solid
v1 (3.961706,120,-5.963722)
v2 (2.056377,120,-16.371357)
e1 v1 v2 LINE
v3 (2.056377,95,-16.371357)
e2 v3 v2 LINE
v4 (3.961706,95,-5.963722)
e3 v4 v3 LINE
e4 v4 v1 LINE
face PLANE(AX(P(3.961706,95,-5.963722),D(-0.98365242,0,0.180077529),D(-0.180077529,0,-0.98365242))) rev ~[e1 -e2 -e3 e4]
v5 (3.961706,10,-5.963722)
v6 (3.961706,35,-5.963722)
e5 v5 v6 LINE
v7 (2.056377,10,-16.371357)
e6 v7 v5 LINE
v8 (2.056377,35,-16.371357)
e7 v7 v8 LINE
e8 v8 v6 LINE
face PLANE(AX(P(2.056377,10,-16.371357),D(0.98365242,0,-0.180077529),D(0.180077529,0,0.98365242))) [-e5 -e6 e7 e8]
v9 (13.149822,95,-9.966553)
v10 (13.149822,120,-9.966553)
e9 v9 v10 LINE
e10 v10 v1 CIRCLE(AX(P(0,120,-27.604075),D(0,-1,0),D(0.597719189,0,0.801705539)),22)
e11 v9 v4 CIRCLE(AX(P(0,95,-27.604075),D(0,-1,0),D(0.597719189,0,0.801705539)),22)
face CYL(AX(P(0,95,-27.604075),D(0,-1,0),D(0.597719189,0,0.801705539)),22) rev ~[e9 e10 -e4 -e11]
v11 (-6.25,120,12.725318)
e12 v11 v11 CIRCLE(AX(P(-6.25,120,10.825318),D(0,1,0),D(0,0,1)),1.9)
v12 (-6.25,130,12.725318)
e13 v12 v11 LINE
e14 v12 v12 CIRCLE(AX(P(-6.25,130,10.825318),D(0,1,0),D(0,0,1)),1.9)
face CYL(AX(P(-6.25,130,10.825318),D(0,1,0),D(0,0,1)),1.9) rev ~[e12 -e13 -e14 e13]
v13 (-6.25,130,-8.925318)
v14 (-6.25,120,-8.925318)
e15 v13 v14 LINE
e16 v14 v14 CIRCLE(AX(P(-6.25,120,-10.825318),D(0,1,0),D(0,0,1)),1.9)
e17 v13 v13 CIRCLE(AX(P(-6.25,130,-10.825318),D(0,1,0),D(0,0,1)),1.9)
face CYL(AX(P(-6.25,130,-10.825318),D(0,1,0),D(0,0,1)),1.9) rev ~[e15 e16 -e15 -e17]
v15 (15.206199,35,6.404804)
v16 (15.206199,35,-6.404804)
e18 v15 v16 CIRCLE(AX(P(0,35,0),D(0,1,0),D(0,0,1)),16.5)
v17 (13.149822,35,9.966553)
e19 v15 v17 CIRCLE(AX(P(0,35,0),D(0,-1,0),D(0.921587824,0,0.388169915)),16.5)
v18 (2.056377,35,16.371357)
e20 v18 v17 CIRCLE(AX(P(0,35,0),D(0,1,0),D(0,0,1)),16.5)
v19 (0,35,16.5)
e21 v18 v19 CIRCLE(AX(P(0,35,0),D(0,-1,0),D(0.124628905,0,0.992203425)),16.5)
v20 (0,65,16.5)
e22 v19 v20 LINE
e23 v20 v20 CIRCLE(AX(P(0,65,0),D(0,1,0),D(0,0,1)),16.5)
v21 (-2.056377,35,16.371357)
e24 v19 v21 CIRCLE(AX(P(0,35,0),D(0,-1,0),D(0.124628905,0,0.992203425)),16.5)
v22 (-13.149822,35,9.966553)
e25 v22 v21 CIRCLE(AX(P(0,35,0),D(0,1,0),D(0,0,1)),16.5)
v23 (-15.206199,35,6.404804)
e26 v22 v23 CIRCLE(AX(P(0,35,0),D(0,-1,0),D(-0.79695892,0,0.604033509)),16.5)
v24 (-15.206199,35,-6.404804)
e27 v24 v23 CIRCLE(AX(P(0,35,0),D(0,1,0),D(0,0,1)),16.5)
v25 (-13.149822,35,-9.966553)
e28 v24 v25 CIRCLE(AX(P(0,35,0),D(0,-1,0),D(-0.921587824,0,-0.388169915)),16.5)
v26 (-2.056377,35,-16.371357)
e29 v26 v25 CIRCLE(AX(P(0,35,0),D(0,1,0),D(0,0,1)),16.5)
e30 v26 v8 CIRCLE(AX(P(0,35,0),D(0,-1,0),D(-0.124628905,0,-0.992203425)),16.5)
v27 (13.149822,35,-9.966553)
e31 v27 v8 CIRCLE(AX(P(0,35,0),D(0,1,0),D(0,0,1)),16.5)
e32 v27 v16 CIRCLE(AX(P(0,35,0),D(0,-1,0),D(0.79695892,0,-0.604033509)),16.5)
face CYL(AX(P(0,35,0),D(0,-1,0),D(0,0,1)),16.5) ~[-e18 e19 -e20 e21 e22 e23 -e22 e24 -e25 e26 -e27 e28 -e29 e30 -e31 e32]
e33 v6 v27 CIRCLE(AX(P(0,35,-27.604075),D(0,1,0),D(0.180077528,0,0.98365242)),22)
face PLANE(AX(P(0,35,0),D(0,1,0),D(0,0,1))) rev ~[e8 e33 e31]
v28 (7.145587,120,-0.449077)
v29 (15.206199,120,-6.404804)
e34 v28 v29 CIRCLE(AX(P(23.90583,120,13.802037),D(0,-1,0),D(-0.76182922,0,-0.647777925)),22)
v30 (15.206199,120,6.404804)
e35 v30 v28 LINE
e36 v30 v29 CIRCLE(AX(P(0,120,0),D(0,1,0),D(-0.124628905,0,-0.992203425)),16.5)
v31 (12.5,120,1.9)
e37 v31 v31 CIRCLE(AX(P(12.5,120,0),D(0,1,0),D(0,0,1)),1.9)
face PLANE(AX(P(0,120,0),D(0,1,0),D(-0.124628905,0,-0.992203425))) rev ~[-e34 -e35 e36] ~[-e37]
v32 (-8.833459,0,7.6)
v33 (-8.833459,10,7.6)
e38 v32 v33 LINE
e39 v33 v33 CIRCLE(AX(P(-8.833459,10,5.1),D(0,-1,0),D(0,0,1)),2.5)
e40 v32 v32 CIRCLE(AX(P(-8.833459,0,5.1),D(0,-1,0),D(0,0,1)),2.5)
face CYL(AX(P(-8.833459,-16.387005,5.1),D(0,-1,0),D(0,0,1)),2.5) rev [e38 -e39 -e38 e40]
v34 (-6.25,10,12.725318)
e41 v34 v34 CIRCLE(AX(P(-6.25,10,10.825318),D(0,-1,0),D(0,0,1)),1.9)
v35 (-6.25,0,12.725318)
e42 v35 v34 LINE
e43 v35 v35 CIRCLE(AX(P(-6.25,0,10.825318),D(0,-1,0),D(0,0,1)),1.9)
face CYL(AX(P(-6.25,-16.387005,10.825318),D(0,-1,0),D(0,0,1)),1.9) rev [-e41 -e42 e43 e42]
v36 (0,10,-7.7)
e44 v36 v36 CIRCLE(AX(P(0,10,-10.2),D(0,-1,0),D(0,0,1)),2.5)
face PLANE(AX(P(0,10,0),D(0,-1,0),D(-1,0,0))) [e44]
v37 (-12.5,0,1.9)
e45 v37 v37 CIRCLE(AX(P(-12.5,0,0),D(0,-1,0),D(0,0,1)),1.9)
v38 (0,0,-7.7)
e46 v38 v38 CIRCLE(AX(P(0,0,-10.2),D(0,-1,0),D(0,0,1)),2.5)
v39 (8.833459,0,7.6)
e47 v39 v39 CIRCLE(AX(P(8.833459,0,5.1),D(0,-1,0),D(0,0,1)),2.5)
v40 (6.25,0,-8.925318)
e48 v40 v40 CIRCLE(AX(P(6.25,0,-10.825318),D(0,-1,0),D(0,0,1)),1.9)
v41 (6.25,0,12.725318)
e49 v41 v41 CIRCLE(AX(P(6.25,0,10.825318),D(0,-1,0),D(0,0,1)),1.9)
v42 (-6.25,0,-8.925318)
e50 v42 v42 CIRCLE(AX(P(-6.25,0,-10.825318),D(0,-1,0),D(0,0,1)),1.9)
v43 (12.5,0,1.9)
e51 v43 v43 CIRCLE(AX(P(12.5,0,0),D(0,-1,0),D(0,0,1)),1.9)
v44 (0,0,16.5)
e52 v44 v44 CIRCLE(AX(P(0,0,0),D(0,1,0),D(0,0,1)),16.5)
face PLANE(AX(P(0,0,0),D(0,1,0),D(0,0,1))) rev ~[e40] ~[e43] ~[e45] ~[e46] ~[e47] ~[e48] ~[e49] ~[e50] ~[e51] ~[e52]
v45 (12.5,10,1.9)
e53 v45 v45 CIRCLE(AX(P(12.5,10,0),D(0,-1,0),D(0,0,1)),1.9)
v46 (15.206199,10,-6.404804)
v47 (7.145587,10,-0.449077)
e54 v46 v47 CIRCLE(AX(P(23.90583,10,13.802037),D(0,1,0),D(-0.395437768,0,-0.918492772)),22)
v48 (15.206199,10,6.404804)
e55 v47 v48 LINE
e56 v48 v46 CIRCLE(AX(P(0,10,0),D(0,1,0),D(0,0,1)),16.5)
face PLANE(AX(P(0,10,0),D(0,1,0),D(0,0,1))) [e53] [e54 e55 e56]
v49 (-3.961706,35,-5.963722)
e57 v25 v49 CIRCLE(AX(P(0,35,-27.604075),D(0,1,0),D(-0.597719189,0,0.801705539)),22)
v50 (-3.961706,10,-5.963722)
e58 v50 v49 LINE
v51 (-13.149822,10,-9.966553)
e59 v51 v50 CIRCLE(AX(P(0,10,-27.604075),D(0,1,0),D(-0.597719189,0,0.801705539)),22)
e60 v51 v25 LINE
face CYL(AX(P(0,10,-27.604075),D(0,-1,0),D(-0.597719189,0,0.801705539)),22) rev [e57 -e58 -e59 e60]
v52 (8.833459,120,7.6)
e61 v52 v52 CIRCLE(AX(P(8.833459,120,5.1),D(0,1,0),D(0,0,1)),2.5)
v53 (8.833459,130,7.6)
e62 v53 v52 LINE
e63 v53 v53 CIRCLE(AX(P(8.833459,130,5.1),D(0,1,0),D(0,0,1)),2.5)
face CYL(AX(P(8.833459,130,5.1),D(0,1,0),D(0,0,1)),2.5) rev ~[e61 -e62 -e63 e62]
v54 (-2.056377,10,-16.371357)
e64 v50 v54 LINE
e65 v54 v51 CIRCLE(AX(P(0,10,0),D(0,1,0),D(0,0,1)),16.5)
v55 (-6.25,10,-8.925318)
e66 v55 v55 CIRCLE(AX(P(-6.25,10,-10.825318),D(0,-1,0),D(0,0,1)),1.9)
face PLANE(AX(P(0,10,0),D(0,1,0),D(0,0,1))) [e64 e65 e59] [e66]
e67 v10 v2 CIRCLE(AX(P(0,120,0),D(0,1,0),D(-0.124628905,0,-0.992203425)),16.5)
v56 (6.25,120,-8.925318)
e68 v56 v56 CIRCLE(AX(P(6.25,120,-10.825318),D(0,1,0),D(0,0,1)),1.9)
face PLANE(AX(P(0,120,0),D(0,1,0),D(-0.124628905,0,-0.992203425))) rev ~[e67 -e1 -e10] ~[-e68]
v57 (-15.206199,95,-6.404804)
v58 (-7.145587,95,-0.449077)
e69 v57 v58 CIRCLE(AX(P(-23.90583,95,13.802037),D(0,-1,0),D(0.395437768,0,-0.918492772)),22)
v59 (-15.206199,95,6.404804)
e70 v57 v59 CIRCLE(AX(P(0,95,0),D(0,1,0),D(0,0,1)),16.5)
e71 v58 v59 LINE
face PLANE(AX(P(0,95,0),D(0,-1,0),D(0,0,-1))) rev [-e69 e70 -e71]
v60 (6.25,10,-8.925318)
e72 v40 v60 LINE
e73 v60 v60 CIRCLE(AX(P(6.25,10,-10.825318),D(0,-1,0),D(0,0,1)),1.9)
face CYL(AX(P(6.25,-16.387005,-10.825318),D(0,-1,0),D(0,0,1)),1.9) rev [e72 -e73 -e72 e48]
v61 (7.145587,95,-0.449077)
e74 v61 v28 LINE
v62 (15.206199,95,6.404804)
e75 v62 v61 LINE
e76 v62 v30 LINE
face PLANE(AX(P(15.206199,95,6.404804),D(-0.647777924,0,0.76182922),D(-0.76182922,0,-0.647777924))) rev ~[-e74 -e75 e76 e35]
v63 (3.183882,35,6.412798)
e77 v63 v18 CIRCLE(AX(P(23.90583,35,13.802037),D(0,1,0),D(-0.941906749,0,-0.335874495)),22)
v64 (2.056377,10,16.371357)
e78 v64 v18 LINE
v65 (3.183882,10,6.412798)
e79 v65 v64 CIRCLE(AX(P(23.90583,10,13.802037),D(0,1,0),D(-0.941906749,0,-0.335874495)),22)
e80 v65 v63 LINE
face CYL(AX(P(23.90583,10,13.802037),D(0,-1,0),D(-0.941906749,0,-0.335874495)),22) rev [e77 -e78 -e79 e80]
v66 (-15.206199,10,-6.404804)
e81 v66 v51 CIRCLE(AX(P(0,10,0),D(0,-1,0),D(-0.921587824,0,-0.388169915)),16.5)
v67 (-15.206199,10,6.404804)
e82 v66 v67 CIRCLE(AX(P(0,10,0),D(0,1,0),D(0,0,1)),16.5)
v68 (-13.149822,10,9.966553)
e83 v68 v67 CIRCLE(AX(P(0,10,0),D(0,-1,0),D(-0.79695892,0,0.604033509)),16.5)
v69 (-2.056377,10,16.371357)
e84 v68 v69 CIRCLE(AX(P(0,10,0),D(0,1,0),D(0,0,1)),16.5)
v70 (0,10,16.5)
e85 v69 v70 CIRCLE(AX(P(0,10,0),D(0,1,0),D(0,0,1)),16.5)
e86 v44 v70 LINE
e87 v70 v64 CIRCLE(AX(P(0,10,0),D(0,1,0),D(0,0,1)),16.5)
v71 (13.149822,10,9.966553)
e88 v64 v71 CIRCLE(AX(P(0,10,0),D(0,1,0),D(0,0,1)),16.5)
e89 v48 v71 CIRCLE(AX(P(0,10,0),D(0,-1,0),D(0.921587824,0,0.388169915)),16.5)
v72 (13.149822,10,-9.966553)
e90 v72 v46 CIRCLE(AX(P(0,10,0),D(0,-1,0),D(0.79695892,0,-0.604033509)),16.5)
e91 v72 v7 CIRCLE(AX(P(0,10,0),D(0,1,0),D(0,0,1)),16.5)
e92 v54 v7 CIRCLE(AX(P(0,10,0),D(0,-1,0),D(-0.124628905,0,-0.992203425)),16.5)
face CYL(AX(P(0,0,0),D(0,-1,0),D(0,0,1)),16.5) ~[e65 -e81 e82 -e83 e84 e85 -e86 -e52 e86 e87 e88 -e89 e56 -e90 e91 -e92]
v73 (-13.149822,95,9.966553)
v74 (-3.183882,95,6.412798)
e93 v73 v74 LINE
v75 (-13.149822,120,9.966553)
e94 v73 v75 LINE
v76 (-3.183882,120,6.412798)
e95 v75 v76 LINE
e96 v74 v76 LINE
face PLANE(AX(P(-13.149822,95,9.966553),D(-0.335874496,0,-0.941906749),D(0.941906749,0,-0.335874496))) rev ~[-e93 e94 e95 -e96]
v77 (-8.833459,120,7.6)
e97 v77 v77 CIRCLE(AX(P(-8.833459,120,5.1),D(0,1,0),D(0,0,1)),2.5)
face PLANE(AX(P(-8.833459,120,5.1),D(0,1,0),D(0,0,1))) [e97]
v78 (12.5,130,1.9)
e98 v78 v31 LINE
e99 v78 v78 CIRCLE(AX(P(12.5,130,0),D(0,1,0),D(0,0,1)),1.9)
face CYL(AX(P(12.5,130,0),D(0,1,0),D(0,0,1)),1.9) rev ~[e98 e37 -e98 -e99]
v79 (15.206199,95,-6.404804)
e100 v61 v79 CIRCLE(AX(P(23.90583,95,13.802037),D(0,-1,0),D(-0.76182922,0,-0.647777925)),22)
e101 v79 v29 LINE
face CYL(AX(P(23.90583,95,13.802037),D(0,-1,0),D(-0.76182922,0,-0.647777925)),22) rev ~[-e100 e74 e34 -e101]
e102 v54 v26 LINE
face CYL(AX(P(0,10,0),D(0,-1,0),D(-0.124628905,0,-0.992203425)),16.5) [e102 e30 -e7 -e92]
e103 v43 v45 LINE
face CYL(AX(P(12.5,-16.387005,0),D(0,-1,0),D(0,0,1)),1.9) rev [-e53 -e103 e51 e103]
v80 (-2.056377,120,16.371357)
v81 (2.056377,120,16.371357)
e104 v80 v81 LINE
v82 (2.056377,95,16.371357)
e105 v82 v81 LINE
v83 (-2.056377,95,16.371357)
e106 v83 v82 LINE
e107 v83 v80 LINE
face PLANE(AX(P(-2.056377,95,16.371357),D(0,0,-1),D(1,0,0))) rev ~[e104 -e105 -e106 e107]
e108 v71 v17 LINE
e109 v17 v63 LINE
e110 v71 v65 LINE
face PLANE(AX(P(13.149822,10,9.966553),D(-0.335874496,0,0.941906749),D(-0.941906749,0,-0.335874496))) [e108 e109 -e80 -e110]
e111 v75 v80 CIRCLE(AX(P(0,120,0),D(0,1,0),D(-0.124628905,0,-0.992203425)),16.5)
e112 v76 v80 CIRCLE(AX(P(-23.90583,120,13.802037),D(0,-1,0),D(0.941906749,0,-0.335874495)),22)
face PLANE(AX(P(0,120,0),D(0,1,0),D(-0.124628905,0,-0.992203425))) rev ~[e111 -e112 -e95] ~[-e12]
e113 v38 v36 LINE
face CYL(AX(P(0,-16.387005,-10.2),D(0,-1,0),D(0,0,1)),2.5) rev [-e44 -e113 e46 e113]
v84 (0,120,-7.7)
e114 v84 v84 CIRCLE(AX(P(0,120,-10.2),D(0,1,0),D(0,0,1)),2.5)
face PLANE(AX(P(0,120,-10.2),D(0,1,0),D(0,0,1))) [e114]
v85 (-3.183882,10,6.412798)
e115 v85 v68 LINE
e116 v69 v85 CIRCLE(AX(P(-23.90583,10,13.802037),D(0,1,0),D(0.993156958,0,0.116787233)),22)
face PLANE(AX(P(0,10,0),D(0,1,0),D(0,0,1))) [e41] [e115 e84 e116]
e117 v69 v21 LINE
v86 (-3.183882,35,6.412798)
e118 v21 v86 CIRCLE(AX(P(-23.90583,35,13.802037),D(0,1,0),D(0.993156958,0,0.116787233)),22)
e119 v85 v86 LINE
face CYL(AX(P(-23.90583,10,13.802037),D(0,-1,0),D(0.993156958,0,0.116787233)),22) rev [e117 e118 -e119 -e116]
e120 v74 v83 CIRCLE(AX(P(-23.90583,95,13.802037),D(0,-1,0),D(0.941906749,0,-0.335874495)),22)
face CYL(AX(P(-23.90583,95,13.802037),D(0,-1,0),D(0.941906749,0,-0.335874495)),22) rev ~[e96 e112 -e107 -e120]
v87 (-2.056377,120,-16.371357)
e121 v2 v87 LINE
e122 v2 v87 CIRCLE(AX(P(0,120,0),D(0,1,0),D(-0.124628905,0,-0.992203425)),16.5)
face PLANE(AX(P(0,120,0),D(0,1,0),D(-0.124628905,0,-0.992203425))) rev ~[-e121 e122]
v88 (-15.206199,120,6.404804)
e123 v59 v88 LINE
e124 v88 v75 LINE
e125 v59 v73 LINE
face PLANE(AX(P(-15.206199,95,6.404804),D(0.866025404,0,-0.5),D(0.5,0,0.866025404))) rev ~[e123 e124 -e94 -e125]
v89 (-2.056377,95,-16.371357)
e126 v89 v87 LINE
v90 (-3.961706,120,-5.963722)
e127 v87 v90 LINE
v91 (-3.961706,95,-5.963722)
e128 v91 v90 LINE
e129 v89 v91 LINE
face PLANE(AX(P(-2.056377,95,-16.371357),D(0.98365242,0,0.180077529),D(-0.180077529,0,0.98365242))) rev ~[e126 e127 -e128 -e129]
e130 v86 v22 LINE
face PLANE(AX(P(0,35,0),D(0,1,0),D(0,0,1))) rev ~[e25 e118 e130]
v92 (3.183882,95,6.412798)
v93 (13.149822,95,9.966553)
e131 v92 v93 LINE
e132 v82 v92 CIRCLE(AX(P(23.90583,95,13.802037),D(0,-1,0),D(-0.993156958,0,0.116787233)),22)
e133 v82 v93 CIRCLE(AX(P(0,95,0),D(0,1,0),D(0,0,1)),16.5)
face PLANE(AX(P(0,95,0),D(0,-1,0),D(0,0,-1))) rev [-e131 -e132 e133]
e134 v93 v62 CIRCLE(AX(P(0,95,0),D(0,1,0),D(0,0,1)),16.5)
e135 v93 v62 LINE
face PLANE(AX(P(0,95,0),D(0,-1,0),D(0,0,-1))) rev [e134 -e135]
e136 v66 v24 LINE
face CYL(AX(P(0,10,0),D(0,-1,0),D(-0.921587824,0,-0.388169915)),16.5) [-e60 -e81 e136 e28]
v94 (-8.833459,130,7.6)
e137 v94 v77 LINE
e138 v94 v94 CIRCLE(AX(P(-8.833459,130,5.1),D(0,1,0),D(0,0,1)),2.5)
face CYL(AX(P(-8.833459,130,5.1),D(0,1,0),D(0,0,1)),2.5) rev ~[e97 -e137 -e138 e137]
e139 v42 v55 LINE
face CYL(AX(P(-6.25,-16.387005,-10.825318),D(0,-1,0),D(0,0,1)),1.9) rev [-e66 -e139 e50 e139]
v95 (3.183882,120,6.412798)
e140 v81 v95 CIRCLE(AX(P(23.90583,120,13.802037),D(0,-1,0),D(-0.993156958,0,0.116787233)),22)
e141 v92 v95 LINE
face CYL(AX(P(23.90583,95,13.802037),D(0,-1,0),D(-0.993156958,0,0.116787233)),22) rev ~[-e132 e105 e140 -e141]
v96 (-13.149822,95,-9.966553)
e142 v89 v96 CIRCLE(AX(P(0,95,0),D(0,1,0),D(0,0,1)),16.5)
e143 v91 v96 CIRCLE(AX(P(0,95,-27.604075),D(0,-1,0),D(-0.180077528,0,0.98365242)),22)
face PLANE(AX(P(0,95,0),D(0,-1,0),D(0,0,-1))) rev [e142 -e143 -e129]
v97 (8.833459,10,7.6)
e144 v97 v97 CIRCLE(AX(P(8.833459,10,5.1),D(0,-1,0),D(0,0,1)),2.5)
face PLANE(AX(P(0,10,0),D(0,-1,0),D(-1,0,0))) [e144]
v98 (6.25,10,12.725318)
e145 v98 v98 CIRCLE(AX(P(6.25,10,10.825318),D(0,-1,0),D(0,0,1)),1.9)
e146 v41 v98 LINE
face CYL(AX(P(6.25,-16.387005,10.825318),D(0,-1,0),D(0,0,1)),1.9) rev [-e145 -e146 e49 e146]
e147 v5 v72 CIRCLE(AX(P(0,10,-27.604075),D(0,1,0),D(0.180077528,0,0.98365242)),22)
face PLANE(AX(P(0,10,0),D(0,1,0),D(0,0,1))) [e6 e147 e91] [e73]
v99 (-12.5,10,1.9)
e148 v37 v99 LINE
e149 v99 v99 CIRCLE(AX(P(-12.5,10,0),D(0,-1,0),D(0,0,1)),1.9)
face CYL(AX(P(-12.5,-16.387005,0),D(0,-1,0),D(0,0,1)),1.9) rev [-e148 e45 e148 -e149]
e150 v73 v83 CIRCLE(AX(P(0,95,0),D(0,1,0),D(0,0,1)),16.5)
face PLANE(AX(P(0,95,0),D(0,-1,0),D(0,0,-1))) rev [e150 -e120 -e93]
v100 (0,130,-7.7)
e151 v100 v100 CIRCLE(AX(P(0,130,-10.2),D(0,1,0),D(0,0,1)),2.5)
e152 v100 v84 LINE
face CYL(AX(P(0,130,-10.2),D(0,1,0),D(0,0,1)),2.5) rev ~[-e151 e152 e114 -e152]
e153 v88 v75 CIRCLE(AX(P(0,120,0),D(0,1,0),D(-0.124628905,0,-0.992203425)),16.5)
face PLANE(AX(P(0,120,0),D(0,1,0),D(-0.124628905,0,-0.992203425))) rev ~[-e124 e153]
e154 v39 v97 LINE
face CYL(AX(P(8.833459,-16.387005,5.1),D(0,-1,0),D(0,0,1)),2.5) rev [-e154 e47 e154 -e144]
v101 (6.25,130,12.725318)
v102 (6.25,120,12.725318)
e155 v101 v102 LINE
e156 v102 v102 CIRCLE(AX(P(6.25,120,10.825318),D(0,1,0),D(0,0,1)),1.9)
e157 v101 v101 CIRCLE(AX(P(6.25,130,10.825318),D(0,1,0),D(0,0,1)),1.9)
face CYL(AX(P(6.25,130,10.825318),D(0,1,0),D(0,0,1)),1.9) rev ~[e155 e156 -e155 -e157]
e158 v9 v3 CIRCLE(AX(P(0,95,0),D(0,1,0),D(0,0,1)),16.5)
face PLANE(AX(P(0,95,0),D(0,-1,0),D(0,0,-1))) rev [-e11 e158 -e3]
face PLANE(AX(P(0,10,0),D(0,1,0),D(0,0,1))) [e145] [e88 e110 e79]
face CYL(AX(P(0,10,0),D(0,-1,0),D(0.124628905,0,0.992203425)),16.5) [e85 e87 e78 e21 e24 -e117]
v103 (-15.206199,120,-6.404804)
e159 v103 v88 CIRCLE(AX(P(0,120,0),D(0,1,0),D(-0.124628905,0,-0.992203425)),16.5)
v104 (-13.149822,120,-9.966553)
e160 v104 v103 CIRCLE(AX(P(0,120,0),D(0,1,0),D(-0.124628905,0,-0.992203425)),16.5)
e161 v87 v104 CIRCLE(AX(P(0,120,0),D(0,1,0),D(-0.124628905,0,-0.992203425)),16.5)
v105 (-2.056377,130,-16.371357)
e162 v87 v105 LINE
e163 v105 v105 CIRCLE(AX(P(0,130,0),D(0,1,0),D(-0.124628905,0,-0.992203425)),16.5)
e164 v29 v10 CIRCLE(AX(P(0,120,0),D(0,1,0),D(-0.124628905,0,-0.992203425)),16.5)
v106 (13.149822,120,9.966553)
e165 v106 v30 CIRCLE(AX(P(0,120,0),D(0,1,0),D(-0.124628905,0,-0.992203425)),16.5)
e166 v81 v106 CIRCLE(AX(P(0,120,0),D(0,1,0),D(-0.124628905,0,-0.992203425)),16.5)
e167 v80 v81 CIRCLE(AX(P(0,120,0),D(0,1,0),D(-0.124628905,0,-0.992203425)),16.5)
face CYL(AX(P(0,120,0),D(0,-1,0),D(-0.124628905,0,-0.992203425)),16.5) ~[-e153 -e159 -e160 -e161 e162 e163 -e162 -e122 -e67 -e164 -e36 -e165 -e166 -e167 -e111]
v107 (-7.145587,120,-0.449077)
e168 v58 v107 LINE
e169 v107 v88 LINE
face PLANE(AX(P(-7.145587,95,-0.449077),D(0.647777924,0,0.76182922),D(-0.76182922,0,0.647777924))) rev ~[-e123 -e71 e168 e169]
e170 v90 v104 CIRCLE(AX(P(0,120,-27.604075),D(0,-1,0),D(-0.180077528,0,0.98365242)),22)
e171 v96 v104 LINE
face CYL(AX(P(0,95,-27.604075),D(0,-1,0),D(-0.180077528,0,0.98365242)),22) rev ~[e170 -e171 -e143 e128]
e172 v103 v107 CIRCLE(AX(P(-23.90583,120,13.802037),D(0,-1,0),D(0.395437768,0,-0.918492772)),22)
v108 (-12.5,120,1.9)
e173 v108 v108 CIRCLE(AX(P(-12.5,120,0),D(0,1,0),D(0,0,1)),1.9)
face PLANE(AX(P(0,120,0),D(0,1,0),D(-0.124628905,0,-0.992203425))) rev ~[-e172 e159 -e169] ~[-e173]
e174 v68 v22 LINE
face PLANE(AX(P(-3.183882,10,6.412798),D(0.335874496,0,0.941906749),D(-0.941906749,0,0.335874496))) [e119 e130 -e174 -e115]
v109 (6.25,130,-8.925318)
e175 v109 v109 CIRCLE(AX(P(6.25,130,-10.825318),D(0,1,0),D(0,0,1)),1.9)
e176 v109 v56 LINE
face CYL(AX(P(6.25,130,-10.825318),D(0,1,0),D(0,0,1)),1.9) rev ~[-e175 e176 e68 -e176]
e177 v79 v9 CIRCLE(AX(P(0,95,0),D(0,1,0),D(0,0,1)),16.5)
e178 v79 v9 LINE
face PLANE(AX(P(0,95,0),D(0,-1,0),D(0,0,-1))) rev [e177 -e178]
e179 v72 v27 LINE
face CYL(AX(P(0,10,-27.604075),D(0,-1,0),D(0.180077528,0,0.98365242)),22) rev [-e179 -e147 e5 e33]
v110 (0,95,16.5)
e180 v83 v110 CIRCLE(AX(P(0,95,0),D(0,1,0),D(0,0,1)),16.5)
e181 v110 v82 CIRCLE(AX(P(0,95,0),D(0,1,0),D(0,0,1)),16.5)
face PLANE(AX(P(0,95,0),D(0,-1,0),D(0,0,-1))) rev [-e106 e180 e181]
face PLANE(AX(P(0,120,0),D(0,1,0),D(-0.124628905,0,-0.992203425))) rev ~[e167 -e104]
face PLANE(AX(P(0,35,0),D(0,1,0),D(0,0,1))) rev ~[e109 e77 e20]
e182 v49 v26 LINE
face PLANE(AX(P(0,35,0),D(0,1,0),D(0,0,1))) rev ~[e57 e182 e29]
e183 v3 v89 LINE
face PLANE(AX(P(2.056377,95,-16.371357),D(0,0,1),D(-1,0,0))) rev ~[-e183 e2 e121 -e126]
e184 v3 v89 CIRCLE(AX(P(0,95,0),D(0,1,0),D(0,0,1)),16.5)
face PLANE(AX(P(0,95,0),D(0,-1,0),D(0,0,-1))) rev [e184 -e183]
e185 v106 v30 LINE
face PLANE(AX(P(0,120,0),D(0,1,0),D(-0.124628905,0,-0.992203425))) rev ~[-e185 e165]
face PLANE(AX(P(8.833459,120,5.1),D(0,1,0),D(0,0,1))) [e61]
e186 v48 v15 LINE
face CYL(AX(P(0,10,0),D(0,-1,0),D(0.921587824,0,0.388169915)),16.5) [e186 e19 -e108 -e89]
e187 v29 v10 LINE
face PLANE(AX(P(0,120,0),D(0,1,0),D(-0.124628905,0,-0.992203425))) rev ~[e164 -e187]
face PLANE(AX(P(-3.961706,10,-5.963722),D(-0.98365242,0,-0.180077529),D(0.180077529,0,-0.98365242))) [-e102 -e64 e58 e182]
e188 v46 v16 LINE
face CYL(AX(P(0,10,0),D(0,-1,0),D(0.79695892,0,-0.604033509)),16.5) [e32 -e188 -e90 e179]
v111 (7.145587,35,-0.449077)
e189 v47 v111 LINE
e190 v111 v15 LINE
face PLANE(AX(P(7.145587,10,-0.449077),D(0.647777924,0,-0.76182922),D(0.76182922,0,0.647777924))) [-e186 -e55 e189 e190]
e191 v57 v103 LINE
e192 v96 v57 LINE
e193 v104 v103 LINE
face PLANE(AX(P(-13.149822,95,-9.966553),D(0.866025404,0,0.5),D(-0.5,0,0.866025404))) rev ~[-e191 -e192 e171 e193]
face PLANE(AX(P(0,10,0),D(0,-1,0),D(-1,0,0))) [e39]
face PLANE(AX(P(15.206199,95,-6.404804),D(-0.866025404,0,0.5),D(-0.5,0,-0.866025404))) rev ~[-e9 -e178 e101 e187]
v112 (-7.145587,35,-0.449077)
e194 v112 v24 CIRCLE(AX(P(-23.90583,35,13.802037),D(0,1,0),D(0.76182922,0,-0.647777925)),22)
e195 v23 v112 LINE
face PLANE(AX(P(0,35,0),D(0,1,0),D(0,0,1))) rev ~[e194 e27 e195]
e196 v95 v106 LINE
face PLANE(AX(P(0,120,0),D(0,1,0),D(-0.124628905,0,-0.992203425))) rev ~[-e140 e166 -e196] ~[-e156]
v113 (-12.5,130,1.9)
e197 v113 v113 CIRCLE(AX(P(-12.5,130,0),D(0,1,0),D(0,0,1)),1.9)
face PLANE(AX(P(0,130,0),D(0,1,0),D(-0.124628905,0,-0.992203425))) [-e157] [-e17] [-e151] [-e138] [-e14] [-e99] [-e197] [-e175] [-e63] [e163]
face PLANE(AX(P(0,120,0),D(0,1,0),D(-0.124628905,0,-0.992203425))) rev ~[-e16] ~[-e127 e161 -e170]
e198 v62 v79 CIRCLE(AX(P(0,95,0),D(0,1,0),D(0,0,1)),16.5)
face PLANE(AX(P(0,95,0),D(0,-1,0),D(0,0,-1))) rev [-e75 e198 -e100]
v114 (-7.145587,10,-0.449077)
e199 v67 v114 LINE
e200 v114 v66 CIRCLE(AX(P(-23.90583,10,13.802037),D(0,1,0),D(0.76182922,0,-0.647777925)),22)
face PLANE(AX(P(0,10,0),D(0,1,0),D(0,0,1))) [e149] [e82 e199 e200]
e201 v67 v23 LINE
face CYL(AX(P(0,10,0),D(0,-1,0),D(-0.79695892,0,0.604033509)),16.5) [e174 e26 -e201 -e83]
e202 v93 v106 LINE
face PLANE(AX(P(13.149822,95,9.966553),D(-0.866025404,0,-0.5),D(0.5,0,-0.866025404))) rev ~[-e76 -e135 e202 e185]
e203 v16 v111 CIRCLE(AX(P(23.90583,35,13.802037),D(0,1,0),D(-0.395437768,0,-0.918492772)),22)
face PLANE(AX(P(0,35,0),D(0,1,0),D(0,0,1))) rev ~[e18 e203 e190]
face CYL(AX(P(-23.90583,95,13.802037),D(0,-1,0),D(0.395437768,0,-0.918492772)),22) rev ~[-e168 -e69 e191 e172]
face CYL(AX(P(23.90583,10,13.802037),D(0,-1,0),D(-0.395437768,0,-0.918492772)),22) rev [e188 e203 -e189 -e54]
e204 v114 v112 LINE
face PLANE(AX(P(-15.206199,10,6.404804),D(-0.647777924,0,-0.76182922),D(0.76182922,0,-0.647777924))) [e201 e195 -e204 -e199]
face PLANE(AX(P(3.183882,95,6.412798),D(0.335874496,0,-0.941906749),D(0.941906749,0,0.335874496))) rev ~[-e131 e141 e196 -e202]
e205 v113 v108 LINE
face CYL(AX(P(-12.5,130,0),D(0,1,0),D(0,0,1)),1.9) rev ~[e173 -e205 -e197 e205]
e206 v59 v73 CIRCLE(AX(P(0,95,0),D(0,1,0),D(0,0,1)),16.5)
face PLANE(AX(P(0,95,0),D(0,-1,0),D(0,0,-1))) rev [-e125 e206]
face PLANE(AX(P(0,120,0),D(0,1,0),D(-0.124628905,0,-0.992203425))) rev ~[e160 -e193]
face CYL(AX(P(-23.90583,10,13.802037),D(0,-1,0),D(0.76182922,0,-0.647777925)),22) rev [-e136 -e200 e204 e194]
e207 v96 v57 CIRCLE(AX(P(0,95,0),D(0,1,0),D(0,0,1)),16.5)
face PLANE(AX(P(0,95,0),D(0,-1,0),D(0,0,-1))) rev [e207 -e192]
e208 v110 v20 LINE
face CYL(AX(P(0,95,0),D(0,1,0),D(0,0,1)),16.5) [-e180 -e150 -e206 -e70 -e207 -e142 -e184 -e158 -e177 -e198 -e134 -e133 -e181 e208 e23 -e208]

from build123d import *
from build123d.topology import SkipClean

# Parameters (mm, degrees)
SKETCH_1_R               = 16.5
EXTRUDE_1_DEPTH          = 10
CUT_EXTRUDE_1_DEPTH      = 26.38700455
CUT_EXTRUDE_1_DEPTH_BACK = 26.38700455
SKETCH_4_R               = 2.5
SKETCH_4_R_2             = 1.9
EXTRUDE_2_DEPTH          = 25
SKETCH_7_R               = 16.5
EXTRUDE_3_DEPTH          = 30
EXTRUDE_4_DEPTH          = 25
SKETCH_10_R              = 16.5
EXTRUDE_5_DEPTH          = 10
SKETCH_11_R              = 1.9
SKETCH_11_R_2            = 2.5
CUT_EXTRUDE_3_DEPTH      = 10


with BuildPart() as part:
    # 草图1 → 凸台-拉伸1 (new body)
    with BuildSketch(Plane(origin=(0, 0, 0), x_dir=(1, 0, 0), z_dir=(0, 1, 0))):
        with Locations(Location((0, 0, 0), (0, 0, 270))):
            Circle(SKETCH_1_R)
    extrude(amount=EXTRUDE_1_DEPTH)

    # 草图4 → 切除-拉伸1 (cut, two sides: drawn at the far end of the back side and taken through both)
    with BuildSketch(Plane(origin=(0, 10, 0), x_dir=(1, 0, 0), z_dir=(0, 1, 0)).offset(-CUT_EXTRUDE_1_DEPTH_BACK)):
        with Locations(Location((0, 10.2, 0), (0, 0, 270))):
            Circle(SKETCH_4_R)
        with Locations(Location((-6.25, 10.825317547, 0), (0, 0, 270))):
            Circle(SKETCH_4_R_2)
        with Locations(Location((6.25, 10.825317547, 0), (0, 0, 270))):
            Circle(SKETCH_4_R_2)
        with Locations(Location((12.5, 0, 0), (0, 0, 270))):
            Circle(SKETCH_4_R_2)
        with Locations(Location((6.25, -10.825317547, 0), (0, 0, 270))):
            Circle(SKETCH_4_R_2)
        with Locations(Location((-6.25, -10.825317547, 0), (0, 0, 270))):
            Circle(SKETCH_4_R_2)
        with Locations(Location((-12.5, 0, 0), (0, 0, 270))):
            Circle(SKETCH_4_R_2)
        with Locations(Location((8.833459119, -5.1, 0), (0, 0, 270))):
            Circle(SKETCH_4_R)
        with Locations(Location((-8.833459119, -5.1, 0), (0, 0, 270))):
            Circle(SKETCH_4_R)
    extrude(amount=CUT_EXTRUDE_1_DEPTH + CUT_EXTRUDE_1_DEPTH_BACK, mode=Mode.SUBTRACT)

    # 草图6 → 凸台-拉伸2 (add)
    with SkipClean():  # the faces are left unmerged after this step: merging them gives an invalid solid
        with BuildSketch(Plane(origin=(0, 10, 0), x_dir=(1, 0, 0), z_dir=(0, 1, 0))):
            with BuildLine():
                Line((-15.206199095, -6.404803594), (-7.145587151, 0.449076957))
                ThreePointArc((-7.145587151, 0.449076957), (-10.83223207, 3.892058734), (-15.206199095, 6.404803594))
                ThreePointArc((-15.206199095, 6.404803594), (-14.289419162, 8.25), (-13.149822167, 9.966552914))
                ThreePointArc((-13.149822167, 9.966552914), (-8.786737771, 7.434958785), (-3.961705629, 5.96372152))
                Line((-3.961705629, 5.96372152), (-2.056376928, 16.371356508))
                ThreePointArc((-2.056376928, 16.371356508), (0, 16.5), (2.056376928, 16.371356508))
                Line((2.056376928, 16.371356508), (3.961705629, 5.96372152))
                ThreePointArc((3.961705629, 5.96372152), (8.786737771, 7.434958785), (13.149822167, 9.966552914))
                ThreePointArc((13.149822167, 9.966552914), (14.289419162, 8.25), (15.206199095, 6.404803594))
                ThreePointArc((15.206199095, 6.404803594), (10.83223207, 3.892058734), (7.145587151, 0.449076957))
                Line((7.145587151, 0.449076957), (15.206199095, -6.404803594))
                ThreePointArc((15.206199095, -6.404803594), (14.289419162, -8.25), (13.149822167, -9.966552914))
                Line((13.149822167, -9.966552914), (3.183881523, -6.412798476))
                ThreePointArc((3.183881523, -6.412798476), (2.045494299, -11.327017519), (2.056376928, -16.371356508))
                ThreePointArc((2.056376928, -16.371356508), (0, -16.5), (-2.056376928, -16.371356508))
                ThreePointArc((-2.056376928, -16.371356508), (-2.045494299, -11.327017519), (-3.183881523, -6.412798476))
                Line((-3.183881523, -6.412798476), (-13.149822167, -9.966552914))
                ThreePointArc((-13.149822167, -9.966552914), (-14.289419162, -8.25), (-15.206199095, -6.404803594))
            make_face()
        extrude(amount=EXTRUDE_2_DEPTH)

    # 草图7 → 凸台-拉伸3 (add)
    with SkipClean():  # the faces are left unmerged after this step: merging them gives an invalid solid
        with BuildSketch(Plane(origin=(0, 35, 0), x_dir=(1, 0, 0), z_dir=(0, 1, 0))):
            with Locations(Location((0, 0, 0), (0, 0, 270))):
                Circle(SKETCH_7_R)
        extrude_3 = extrude(amount=EXTRUDE_3_DEPTH)

    # 镜向3: 凸台-拉伸3 across plane
    with SkipClean():  # the faces are left unmerged after this step: merging them gives an invalid solid
        add(extrude_3.mirror(Plane.ZX.offset(65)))

    # 草图9 → 凸台-拉伸4 (add)
    with SkipClean():  # the faces are left unmerged after this step: merging them gives an invalid solid
        with BuildSketch(Plane(origin=(0, 95, 0), x_dir=(1, 0, 0), z_dir=(0, 1, 0))):
            with BuildLine():
                Line((-13.149822167, -9.966552914), (-3.183881523, -6.412798476))
                ThreePointArc((-3.183881523, -6.412798476), (-2.045494299, -11.327017519), (-2.056376928, -16.371356508))
                Line((-2.056376928, -16.371356508), (2.056376928, -16.371356508))
                ThreePointArc((2.056376928, -16.371356508), (2.045494299, -11.327017519), (3.183881523, -6.412798476))
                Line((3.183881523, -6.412798476), (13.149822167, -9.966552914))
                Line((13.149822167, -9.966552914), (15.206199095, -6.404803594))
                Line((15.206199095, -6.404803594), (7.145587151, 0.449076957))
                ThreePointArc((7.145587151, 0.449076957), (10.83223207, 3.892058734), (15.206199095, 6.404803594))
                Line((15.206199095, 6.404803594), (13.149822167, 9.966552914))
                ThreePointArc((13.149822167, 9.966552914), (8.786737771, 7.434958785), (3.961705629, 5.96372152))
                Line((3.961705629, 5.96372152), (2.056376928, 16.371356508))
                Line((2.056376928, 16.371356508), (-2.056376928, 16.371356508))
                Line((-2.056376928, 16.371356508), (-3.961705629, 5.96372152))
                ThreePointArc((-3.961705629, 5.96372152), (-8.786737771, 7.434958785), (-13.149822167, 9.966552914))
                Line((-13.149822167, 9.966552914), (-15.206199095, 6.404803594))
                ThreePointArc((-15.206199095, 6.404803594), (-10.83223207, 3.892058734), (-7.145587151, 0.449076957))
                Line((-7.145587151, 0.449076957), (-15.206199095, -6.404803594))
                Line((-15.206199095, -6.404803594), (-13.149822167, -9.966552914))
            make_face()
        extrude(amount=EXTRUDE_4_DEPTH)

    # 草图10 → 凸台-拉伸5 (add)
    with SkipClean():  # the faces are left unmerged after this step: merging them gives an invalid solid
        with BuildSketch(Plane(origin=(0, 120, 0), x_dir=(1, 0, 0), z_dir=(0, 1, 0))):
            with Locations(Location((0, 0, 0), (0, 0, 97.159326011))):
                Circle(SKETCH_10_R)
        extrude(amount=EXTRUDE_5_DEPTH)

    # 草图11 → 切除-拉伸3 (cut)
    with SkipClean():  # the faces are left unmerged after this step: merging them gives an invalid solid
        with BuildSketch(Plane(origin=(0, 130, 0), x_dir=(1, 0, 0), z_dir=(0, 1, 0))):
            with Locations(Location((12.5, 0, 0), (0, 0, 270))):
                Circle(SKETCH_11_R)
            with Locations(Location((8.833459119, -5.1, 0), (0, 0, 270))):
                Circle(SKETCH_11_R_2)
            with Locations(Location((6.25, -10.825317547, 0), (0, 0, 270))):
                Circle(SKETCH_11_R)
            with Locations(Location((-6.25, -10.825317547, 0), (0, 0, 270))):
                Circle(SKETCH_11_R)
            with Locations(Location((-8.833459119, -5.1, 0), (0, 0, 270))):
                Circle(SKETCH_11_R_2)
            with Locations(Location((-12.5, 0, 0), (0, 0, 270))):
                Circle(SKETCH_11_R)
            with Locations(Location((-6.25, 10.825317547, 0), (0, 0, 270))):
                Circle(SKETCH_11_R)
            with Locations(Location((0, 10.2, 0), (0, 0, 270))):
                Circle(SKETCH_11_R_2)
            with Locations(Location((6.25, 10.825317547, 0), (0, 0, 270))):
                Circle(SKETCH_11_R)
        extrude(amount=-CUT_EXTRUDE_3_DEPTH, mode=Mode.SUBTRACT)


solid = part.part
